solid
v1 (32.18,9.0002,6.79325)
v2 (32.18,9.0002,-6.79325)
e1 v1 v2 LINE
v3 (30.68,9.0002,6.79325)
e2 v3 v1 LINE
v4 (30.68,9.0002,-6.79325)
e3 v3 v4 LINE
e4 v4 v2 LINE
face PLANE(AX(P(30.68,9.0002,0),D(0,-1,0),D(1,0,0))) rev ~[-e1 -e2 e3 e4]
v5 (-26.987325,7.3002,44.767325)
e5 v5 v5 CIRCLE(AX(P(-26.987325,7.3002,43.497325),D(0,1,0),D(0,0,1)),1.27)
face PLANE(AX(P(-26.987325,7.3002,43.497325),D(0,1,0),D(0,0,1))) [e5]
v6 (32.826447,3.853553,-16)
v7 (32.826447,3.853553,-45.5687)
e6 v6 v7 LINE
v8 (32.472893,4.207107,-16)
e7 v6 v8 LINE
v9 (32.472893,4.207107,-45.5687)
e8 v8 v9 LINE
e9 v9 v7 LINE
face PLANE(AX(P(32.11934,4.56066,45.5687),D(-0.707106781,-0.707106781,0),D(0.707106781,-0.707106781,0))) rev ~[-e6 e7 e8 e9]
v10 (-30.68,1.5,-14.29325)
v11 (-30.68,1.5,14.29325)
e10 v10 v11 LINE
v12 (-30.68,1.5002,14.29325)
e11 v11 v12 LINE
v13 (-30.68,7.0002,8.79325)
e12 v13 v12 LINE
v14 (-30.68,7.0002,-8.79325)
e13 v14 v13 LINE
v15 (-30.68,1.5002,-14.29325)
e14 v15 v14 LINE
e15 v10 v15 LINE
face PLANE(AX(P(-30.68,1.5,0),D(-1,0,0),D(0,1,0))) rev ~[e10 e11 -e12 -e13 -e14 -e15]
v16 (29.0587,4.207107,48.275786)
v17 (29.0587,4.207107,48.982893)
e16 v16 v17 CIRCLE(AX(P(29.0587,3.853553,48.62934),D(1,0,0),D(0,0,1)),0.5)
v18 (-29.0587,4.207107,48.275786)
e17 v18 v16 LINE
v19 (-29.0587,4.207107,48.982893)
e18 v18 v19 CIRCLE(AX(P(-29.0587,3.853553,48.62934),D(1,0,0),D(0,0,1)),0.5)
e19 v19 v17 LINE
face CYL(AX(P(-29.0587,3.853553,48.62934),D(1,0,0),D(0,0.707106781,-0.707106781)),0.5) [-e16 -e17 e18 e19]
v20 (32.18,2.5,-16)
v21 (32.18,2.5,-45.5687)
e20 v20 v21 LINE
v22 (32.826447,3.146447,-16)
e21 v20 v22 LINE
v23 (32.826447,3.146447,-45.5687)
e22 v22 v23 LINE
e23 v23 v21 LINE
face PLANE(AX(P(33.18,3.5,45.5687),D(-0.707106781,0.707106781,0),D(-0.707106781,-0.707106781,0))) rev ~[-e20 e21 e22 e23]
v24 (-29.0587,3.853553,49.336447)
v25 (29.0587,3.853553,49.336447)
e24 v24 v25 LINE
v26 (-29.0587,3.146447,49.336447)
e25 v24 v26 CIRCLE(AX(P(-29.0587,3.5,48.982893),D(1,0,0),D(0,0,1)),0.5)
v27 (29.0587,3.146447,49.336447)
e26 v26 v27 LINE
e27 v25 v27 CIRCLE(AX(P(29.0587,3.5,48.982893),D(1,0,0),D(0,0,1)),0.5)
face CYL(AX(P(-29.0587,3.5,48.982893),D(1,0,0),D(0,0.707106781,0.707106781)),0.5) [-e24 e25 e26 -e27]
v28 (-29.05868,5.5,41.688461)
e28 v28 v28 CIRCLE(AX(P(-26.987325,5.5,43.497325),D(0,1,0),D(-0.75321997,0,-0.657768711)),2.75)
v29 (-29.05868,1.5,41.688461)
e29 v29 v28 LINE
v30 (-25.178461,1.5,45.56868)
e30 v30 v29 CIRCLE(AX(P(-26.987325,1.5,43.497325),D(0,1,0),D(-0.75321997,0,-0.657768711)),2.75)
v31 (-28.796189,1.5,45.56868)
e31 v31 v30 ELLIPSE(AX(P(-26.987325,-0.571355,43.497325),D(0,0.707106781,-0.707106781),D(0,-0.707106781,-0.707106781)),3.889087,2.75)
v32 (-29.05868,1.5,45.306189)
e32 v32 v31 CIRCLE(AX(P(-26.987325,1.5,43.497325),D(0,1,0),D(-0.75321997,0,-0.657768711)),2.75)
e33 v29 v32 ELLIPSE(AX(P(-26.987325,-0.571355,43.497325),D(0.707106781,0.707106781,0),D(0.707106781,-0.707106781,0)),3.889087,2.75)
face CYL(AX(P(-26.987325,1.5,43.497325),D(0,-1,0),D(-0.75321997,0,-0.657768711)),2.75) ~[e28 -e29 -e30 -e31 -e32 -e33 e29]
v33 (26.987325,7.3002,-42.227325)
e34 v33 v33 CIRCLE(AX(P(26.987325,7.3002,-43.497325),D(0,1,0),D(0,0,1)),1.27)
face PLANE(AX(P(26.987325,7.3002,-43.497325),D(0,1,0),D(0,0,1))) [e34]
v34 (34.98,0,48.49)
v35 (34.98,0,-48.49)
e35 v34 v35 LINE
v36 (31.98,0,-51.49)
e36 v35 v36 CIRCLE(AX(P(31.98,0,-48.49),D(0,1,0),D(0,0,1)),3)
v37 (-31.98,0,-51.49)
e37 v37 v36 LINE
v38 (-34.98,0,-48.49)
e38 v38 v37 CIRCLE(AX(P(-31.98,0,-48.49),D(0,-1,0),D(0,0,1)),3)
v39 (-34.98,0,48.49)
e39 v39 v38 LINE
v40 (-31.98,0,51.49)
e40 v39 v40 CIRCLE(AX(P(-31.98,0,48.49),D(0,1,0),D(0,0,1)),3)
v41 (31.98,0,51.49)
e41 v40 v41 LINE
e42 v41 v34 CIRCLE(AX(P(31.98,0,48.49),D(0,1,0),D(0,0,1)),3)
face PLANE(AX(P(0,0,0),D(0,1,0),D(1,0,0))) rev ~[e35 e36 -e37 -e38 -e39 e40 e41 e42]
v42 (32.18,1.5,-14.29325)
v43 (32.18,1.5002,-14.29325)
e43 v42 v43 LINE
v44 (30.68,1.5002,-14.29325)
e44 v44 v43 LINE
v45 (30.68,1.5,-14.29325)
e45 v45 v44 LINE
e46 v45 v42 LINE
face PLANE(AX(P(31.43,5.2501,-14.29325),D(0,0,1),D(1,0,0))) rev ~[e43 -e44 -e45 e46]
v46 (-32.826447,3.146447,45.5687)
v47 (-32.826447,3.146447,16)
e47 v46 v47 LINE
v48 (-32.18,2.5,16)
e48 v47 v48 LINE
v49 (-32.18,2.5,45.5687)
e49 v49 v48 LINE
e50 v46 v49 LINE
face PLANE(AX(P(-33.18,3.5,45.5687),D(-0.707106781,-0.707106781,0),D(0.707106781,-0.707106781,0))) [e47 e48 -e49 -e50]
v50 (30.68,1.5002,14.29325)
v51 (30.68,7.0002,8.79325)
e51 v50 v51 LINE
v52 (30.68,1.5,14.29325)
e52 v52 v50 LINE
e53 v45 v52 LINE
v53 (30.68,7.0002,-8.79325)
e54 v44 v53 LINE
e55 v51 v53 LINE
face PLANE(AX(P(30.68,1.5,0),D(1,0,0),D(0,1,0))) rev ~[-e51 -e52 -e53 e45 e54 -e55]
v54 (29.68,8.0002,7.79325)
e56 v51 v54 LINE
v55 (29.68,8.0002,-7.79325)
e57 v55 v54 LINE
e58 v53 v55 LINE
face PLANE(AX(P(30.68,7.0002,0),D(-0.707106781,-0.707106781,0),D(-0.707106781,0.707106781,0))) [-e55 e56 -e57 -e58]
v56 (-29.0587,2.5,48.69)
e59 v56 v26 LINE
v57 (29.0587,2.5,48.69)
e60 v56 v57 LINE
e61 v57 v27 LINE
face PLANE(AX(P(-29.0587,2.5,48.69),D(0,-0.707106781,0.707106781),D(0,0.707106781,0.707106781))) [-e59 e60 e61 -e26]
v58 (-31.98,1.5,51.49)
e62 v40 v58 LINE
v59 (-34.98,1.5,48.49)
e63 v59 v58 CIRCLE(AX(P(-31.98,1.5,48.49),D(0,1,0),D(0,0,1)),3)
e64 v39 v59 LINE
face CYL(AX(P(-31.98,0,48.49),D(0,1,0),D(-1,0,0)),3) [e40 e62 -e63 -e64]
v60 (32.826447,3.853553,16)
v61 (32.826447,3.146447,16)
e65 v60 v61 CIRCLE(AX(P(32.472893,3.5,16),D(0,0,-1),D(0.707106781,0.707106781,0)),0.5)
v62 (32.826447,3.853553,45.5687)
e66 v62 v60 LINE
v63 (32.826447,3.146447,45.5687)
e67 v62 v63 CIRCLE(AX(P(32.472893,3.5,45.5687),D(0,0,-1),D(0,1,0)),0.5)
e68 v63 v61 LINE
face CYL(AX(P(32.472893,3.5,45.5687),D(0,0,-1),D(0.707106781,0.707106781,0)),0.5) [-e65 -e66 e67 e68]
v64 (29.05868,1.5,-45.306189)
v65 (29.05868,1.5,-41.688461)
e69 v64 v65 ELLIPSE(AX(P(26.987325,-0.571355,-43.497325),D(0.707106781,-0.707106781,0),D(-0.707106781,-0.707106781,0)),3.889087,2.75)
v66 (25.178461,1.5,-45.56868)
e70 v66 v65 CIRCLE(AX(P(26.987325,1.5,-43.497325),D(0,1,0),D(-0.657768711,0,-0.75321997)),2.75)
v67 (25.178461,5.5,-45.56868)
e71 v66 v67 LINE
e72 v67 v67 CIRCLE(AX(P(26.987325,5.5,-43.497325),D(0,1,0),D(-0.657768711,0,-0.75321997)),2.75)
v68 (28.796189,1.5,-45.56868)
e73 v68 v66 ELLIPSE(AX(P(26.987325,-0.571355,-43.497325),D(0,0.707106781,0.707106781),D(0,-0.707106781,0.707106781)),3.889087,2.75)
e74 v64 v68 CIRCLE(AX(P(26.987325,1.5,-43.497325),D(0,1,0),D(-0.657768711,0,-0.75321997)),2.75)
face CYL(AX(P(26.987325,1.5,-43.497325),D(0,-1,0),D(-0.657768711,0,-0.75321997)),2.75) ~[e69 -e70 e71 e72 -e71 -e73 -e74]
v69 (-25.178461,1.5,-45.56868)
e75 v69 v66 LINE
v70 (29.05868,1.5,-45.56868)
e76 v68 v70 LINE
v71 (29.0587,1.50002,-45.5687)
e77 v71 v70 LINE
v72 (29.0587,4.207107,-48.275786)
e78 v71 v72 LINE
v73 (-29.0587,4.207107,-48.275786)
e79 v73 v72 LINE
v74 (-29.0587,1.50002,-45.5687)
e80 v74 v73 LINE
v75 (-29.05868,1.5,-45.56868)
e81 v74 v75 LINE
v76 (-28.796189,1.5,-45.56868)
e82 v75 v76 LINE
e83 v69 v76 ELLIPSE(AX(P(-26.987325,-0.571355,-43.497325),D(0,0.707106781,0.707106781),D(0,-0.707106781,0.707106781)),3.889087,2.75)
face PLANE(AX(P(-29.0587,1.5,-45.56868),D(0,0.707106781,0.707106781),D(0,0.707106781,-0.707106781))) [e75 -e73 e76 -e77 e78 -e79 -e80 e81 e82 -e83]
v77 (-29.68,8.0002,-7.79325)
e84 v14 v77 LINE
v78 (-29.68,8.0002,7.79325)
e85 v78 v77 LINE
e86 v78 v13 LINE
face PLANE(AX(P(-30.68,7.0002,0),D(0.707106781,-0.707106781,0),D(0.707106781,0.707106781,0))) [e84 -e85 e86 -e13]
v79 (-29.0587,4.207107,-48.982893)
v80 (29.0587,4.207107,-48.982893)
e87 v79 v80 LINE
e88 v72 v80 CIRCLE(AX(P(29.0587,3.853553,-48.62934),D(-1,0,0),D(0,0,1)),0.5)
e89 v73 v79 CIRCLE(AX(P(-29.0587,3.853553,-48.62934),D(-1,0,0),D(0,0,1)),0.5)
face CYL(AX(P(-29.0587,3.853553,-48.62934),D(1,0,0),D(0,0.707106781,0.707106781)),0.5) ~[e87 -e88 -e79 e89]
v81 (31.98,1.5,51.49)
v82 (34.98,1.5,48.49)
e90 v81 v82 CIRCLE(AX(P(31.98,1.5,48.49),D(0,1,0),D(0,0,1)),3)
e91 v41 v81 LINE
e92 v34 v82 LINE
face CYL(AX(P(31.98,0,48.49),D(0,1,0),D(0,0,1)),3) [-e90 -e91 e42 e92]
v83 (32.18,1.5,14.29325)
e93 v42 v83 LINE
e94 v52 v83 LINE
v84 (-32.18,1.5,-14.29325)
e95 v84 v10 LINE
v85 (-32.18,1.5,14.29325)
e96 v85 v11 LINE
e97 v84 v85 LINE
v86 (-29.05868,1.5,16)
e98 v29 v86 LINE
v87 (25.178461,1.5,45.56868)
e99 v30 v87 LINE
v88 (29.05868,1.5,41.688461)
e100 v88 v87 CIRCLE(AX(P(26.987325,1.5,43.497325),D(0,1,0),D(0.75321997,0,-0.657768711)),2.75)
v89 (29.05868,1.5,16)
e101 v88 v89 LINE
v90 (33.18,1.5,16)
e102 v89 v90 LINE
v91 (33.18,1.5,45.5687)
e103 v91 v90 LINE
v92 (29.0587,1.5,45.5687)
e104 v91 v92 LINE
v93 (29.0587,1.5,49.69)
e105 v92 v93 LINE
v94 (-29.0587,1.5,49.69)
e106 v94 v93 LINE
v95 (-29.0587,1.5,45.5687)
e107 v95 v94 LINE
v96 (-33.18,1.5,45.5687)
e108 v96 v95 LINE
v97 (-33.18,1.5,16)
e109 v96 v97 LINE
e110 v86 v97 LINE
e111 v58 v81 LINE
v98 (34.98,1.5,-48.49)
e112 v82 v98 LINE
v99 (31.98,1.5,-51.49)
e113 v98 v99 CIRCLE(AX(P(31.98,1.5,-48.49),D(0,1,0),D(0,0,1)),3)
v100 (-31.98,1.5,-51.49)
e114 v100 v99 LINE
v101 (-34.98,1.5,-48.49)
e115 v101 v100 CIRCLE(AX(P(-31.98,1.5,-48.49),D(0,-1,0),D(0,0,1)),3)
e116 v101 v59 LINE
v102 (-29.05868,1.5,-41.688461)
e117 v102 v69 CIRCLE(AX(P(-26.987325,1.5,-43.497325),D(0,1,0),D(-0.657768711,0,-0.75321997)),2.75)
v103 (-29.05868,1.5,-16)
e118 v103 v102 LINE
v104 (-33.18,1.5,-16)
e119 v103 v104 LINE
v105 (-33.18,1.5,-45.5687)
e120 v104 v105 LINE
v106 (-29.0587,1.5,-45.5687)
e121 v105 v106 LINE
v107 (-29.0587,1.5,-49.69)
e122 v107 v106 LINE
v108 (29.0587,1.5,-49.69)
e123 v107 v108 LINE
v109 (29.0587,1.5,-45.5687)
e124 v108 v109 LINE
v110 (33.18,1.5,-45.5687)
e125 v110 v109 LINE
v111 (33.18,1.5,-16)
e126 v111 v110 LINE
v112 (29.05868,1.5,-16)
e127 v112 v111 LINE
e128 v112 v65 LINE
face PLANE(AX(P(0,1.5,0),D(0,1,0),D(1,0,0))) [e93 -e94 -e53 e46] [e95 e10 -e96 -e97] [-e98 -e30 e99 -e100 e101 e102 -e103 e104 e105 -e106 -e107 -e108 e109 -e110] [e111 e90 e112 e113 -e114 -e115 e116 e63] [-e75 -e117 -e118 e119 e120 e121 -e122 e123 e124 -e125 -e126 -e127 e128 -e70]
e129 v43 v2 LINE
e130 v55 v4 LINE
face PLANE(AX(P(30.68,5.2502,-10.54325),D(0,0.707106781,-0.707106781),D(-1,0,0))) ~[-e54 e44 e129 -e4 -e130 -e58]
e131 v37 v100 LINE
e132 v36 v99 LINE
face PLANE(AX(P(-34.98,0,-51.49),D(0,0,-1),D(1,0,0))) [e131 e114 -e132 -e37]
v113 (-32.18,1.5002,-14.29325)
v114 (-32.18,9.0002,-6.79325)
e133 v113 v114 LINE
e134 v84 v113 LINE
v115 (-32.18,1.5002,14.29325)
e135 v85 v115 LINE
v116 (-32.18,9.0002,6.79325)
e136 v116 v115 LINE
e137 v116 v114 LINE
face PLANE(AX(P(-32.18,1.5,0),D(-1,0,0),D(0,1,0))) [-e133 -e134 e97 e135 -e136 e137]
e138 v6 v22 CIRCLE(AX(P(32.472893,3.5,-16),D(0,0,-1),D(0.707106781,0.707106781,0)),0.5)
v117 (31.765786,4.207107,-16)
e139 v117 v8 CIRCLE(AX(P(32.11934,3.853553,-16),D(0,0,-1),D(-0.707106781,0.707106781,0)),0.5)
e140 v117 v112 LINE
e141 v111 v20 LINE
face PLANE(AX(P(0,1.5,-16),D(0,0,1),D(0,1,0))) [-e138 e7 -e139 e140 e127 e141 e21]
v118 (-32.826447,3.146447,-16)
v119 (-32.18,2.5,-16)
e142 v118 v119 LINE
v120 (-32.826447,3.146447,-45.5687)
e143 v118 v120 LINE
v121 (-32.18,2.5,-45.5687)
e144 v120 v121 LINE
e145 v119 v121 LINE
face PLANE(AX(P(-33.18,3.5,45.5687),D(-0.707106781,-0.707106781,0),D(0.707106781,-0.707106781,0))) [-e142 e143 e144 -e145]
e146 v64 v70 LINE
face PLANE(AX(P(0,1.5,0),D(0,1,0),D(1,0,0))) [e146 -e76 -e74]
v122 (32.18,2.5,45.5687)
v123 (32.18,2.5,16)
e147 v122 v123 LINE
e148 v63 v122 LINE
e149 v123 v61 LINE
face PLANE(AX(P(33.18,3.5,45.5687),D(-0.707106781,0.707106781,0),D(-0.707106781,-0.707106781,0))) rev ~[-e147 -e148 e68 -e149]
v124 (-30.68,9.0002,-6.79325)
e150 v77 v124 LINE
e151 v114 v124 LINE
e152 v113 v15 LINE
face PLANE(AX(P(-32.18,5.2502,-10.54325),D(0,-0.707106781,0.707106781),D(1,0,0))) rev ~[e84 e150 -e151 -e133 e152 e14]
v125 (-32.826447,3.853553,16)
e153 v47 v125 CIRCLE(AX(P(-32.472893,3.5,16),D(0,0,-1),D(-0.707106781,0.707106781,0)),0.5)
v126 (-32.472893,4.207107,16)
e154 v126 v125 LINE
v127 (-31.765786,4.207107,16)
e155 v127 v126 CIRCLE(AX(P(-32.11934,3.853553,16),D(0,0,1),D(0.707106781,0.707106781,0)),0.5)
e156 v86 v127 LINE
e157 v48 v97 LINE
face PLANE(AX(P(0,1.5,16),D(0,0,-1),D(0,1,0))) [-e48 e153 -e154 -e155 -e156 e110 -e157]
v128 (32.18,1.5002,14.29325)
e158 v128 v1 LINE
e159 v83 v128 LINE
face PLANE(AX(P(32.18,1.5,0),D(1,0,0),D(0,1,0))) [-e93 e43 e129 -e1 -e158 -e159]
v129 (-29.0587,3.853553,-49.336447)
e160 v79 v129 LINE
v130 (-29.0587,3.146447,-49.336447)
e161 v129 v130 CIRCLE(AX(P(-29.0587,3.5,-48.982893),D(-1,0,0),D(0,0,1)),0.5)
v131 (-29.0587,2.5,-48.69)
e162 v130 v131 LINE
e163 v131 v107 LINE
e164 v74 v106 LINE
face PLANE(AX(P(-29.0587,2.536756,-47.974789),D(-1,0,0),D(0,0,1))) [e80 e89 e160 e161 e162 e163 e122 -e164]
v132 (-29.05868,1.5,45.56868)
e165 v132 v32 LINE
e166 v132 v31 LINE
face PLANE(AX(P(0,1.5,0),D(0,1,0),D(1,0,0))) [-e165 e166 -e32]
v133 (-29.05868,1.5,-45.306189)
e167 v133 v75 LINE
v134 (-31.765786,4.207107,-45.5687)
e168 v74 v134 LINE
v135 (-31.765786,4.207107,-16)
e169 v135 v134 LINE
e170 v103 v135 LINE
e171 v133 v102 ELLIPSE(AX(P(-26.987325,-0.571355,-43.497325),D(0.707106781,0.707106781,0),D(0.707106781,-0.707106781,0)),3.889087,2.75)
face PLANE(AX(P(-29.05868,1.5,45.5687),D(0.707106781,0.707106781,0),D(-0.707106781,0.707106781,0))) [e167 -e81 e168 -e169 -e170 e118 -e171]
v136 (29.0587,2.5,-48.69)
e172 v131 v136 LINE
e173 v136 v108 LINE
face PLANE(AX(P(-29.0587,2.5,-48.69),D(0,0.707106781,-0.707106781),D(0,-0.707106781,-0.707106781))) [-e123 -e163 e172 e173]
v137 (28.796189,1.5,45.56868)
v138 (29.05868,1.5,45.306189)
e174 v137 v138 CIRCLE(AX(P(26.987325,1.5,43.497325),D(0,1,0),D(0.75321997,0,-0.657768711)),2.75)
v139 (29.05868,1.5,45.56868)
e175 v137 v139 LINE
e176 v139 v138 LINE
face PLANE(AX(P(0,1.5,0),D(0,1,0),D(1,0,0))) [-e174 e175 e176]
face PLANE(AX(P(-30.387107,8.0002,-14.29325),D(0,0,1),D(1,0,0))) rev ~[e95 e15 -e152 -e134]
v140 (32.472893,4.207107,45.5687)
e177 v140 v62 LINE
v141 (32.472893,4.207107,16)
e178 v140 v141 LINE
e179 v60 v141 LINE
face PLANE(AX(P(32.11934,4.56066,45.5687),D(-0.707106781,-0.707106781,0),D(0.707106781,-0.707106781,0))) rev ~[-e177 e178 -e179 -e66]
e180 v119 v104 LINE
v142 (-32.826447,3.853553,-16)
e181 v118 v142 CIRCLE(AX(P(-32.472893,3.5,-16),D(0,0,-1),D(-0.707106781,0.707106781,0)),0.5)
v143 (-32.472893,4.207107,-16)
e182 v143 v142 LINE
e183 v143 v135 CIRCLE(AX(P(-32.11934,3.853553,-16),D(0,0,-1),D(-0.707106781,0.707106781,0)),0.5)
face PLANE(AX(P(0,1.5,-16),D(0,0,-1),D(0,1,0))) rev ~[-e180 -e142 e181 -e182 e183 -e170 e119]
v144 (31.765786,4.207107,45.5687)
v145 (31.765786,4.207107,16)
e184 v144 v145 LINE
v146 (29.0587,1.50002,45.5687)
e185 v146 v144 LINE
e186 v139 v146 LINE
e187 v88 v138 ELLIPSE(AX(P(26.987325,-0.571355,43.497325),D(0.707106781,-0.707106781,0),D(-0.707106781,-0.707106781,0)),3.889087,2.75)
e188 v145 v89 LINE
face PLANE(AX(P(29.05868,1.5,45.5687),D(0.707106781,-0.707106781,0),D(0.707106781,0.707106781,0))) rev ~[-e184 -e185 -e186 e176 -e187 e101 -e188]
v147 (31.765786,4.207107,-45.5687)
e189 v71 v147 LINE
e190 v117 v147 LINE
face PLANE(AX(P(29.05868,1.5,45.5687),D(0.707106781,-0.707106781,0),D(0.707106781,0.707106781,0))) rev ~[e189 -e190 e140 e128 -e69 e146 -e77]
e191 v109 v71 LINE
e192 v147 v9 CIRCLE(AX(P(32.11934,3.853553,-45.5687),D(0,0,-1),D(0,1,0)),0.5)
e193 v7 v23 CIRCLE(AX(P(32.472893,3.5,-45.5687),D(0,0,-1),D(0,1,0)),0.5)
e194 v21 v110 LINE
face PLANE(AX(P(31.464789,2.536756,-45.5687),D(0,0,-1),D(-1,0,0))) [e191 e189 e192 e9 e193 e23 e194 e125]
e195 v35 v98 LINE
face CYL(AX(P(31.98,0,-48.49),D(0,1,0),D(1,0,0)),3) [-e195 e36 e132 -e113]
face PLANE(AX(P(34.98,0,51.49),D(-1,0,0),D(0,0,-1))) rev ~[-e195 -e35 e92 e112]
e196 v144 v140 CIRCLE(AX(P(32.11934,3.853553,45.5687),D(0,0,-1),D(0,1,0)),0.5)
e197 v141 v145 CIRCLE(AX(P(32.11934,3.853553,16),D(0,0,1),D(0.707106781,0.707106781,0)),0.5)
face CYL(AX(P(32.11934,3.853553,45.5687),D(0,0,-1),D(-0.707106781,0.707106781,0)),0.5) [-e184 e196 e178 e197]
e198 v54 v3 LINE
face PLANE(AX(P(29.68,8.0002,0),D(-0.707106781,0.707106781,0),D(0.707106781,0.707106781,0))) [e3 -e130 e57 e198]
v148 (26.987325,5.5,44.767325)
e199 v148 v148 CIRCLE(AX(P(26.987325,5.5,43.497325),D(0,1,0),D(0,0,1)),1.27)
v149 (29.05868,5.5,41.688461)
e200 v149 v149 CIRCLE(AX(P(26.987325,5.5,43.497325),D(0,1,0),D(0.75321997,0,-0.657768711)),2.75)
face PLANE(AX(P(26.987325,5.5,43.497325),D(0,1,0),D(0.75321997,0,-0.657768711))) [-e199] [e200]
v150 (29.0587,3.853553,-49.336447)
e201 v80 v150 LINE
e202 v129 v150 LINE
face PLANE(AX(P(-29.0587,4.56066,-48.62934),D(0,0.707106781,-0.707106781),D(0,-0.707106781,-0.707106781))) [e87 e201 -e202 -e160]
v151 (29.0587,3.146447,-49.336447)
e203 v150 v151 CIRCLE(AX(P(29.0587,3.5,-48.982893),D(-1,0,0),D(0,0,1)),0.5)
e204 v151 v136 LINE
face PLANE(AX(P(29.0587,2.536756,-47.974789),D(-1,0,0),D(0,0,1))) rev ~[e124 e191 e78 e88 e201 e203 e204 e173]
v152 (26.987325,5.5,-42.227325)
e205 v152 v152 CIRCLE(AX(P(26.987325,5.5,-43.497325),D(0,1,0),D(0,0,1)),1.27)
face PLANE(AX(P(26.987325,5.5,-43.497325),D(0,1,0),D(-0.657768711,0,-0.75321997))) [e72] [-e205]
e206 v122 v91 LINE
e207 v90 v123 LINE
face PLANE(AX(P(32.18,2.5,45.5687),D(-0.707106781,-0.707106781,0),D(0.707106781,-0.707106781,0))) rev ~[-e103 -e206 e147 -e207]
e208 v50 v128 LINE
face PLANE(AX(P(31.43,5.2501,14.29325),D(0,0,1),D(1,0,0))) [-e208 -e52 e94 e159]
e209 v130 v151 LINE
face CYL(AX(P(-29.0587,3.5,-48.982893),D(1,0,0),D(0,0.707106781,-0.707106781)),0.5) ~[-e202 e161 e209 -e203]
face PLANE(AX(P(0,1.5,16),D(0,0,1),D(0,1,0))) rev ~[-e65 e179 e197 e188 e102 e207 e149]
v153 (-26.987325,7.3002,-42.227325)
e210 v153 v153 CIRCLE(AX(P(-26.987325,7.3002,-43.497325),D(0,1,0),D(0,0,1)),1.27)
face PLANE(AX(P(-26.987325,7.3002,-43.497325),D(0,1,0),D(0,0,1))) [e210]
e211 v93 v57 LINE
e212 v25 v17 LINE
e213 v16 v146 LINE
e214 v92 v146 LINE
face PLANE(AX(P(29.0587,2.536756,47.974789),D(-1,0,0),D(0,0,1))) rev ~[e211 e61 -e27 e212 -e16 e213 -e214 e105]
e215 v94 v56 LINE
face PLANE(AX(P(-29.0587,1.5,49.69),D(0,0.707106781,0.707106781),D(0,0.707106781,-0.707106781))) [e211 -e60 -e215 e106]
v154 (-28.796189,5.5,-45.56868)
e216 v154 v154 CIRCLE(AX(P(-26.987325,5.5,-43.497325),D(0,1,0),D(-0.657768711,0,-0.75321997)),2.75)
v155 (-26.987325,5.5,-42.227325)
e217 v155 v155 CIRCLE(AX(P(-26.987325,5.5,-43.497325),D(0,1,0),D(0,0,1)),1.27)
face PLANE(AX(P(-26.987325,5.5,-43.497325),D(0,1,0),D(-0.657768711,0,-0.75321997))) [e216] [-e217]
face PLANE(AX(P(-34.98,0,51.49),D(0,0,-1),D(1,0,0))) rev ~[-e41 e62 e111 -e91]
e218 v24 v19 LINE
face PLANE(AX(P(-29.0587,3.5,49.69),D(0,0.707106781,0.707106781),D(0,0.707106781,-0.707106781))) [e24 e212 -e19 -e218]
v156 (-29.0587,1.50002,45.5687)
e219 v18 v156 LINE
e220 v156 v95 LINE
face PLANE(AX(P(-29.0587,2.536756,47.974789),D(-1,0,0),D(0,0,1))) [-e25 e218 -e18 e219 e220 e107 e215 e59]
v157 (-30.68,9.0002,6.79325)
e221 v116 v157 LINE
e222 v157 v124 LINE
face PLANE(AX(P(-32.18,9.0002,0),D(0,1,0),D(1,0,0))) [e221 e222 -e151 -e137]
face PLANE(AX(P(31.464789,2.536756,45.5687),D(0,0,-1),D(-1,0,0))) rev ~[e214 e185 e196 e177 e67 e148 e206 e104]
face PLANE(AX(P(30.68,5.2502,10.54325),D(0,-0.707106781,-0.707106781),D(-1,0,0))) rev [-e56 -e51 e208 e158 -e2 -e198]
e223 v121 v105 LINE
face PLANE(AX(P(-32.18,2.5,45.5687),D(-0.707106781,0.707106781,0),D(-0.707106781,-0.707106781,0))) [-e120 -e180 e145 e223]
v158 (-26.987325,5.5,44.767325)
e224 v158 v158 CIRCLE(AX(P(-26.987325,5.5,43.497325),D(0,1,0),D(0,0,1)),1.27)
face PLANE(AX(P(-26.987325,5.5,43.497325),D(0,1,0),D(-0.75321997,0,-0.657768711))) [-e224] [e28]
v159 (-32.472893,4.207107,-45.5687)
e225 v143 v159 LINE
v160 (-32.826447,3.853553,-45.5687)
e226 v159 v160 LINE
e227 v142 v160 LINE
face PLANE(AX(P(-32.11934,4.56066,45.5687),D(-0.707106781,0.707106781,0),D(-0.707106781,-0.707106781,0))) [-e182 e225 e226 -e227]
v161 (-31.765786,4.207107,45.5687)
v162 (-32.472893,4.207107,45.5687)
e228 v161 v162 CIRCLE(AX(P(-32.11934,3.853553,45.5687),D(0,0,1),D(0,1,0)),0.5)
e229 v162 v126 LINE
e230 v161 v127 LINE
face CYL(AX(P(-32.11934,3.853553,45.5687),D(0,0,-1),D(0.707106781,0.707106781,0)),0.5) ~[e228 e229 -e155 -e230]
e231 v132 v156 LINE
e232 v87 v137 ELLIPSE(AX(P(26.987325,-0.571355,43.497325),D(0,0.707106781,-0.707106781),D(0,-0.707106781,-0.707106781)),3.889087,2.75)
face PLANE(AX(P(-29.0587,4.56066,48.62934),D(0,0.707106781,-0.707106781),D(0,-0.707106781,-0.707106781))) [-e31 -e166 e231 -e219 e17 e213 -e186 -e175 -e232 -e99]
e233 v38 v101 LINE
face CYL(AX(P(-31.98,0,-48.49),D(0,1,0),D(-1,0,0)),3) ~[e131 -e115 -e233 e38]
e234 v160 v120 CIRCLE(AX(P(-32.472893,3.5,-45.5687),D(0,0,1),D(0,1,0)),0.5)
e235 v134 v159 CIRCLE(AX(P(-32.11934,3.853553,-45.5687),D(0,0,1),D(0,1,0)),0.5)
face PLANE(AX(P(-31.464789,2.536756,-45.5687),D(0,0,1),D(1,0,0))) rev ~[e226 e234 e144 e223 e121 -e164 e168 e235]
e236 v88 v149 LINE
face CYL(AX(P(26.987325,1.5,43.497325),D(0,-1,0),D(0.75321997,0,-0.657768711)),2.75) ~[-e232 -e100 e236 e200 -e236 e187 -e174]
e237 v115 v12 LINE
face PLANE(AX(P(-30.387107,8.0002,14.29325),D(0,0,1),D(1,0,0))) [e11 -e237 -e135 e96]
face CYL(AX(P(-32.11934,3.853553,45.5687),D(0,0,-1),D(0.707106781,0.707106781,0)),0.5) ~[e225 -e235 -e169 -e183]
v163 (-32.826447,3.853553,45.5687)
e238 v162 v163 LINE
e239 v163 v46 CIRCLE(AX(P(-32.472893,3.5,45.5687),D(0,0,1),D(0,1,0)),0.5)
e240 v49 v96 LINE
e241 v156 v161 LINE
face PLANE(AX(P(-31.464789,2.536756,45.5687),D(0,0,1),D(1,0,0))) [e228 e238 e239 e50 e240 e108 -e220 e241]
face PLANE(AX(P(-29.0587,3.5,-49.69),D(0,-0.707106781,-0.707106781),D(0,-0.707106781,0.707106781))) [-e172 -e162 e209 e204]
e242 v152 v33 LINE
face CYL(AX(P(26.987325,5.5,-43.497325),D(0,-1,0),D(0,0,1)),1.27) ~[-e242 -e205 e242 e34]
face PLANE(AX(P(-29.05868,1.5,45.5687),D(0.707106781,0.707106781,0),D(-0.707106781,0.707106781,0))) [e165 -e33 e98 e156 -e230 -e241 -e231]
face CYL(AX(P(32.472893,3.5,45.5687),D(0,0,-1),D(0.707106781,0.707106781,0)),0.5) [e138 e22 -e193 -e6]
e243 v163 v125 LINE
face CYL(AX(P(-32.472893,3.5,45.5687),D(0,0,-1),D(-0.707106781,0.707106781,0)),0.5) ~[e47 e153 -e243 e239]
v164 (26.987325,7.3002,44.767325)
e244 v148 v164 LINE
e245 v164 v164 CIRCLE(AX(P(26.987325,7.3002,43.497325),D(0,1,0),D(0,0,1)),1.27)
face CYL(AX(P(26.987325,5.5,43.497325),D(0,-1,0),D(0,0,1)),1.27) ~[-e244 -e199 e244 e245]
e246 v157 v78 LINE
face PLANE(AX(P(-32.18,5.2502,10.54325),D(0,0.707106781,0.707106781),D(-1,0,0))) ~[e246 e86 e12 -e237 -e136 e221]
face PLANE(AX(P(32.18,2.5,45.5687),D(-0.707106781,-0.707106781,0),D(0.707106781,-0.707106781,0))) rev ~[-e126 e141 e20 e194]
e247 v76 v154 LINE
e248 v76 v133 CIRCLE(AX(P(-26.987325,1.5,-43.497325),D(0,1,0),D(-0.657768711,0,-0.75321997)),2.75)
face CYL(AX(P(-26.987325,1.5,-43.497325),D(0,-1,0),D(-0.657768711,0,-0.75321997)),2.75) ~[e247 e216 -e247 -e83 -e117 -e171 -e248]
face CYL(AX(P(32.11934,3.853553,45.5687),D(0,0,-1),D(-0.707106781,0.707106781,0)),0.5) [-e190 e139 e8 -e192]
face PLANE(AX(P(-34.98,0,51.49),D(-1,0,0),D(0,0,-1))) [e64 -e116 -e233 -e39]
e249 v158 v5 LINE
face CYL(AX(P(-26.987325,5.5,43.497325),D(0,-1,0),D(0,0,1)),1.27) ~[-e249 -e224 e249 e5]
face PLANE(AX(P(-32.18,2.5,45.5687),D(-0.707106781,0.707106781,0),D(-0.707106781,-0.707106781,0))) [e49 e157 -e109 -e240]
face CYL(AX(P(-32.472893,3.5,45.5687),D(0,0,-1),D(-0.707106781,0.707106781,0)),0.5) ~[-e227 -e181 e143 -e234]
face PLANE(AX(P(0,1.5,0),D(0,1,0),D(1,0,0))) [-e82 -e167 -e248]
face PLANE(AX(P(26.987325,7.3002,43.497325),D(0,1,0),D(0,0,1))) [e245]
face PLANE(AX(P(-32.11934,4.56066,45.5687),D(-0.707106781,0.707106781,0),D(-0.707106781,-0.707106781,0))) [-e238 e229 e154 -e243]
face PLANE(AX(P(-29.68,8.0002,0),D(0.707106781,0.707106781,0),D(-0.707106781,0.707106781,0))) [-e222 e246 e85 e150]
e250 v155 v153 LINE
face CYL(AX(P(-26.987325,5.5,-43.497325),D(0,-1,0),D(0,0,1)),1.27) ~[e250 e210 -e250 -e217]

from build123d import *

# Parameters (mm, degrees)
EDIT_GLOBAL_VARIABLE_WITH_PCB_DIMENSIONS_W = 69.96
EDIT_GLOBAL_VARIABLE_WITH_PCB_DIMENSIONS_H = 102.98
BOSS_EXTRUDE1_DEPTH                        = 1.5
FILLET1_R                                  = 3
BOSS_EXTRUDE2_DEPTH                        = 91.1374
BOSS_EXTRUDE3_DEPTH                        = 91.1374
BOSS_EXTRUDE4_DEPTH                        = 58.1174
BOSS_EXTRUDE5_DEPTH                        = 58.1174
FILLET2_R                                  = 0.5
SKETCH7_W                                  = 32
SKETCH7_H                                  = 2.853553391
CUT_EXTRUDE1_DEPTH                         = 35.98
CUT_EXTRUDE1_DEPTH_BACK                    = 35.98
SKETCH8_R                                  = 2.75
BOSS_EXTRUDE6_DEPTH                        = 4
SKETCH11_W                                 = 1.5
SKETCH11_H                                 = 7.5002
BOSS_EXTRUDE8_DEPTH                        = 14.29325
BOSS_EXTRUDE9_DEPTH                        = 14.29325
CHAMFER1_SIZE                              = 7.5
SKETCH10_R                                 = 1.27
BOSS_EXTRUDE10_DEPTH                       = 1.8002


with BuildPart() as part:
    # EDIT GLOBAL VARIABLE WITH PCB DIMENSIONS → Boss-Extrude1 (new body)
    with BuildSketch(Plane(origin=(0, 0, 0), x_dir=(1, 0, 0), z_dir=(0, 1, 0))):
        Rectangle(EDIT_GLOBAL_VARIABLE_WITH_PCB_DIMENSIONS_W, EDIT_GLOBAL_VARIABLE_WITH_PCB_DIMENSIONS_H)
    extrude(amount=BOSS_EXTRUDE1_DEPTH)

    # Fillet1
    fillet1_edges = [part.edges().sort_by_distance(p)[0] for p in [
        (34.98, 0.75, 51.49),
        (-34.98, 0.75, 51.49),
        (-34.98, 0.75, -51.49),
        (34.98, 0.75, -51.49),
    ]]
    fillet(fillet1_edges, radius=FILLET1_R)

    # Sketch2 → Boss-Extrude2 (add)
    with BuildSketch(Plane.XY.offset(45.5687)):
        Polygon((33.18, 1.5), (29.058679656, 1.5), (32.119339828, 4.560660172), (33.18, 3.5), (32.18, 2.5), align=None)
    extrude(amount=-BOSS_EXTRUDE2_DEPTH)

    # Sketch3 → Boss-Extrude3 (add)
    with BuildSketch(Plane.XY.offset(45.5687)):
        Polygon((-33.18, 1.5), (-29.058679656, 1.5), (-32.119339828, 4.560660172), (-33.18, 3.5), (-32.18, 2.5), align=None)
    extrude(amount=-BOSS_EXTRUDE3_DEPTH)

    # Sketch4 → Boss-Extrude4 (add)
    with BuildSketch(Plane.ZY.offset(29.0587)):
        Polygon((-49.69, 1.5), (-45.568679656, 1.5), (-48.629339828, 4.560660172), (-49.69, 3.5), (-48.69, 2.5), align=None)
    extrude(amount=-BOSS_EXTRUDE4_DEPTH)

    # Sketch5 → Boss-Extrude5 (add)
    with BuildSketch(Plane.ZY.offset(29.0587)):
        Polygon((45.568679656, 1.5), (49.69, 1.5), (48.69, 2.5), (49.69, 3.5), (48.629339828, 4.560660172), align=None)
    extrude(amount=-BOSS_EXTRUDE5_DEPTH)

    # Fillet2
    fillet2_edges = [part.edges().sort_by_distance(p)[0] for p in [
        (33.18, 3.5, 0),
        (32.119339828, 4.560660172, 0),
        (-32.119339828, 4.560660172, 0),
        (-33.18, 3.5, 0),
        (0, 4.560660172, -48.629339828),
        (0, 3.5, -49.69),
        (0, 3.5, 49.69),
        (0, 4.560660172, 48.629339828),
    ]]
    fillet(fillet2_edges, radius=FILLET2_R)

    # Sketch7 → Cut-Extrude1 (cut, two sides)
    with BuildSketch(Plane(origin=(0, 0, 0), x_dir=(0, 0, -1), z_dir=(1, 0, 0))) as cut_extrude1_sk:
        with Locations((0, 2.926776696)):
            Rectangle(SKETCH7_W, SKETCH7_H)
    extrude(amount=CUT_EXTRUDE1_DEPTH, mode=Mode.SUBTRACT)
    extrude(cut_extrude1_sk.sketch, amount=-CUT_EXTRUDE1_DEPTH_BACK, mode=Mode.SUBTRACT)

    # Sketch8 → Boss-Extrude6 (add)
    with BuildSketch(Plane(origin=(0, 1.5, 0), x_dir=(1, 0, 0), z_dir=(0, 1, 0))):
        with Locations(Location((-26.98732474, 43.49732474, 0), (0, 0, 131.129923219))):  # turned: the seam where the file's is
            Circle(SKETCH8_R)
        with Locations(Location((26.98732474, 43.49732474, 0), (0, 0, 131.129923219))):  # turned: the seam where the file's is
            Circle(SKETCH8_R)
        with Locations(Location((-26.98732474, -43.49732474, 0), (0, 0, 138.870076781))):  # turned: the seam where the file's is
            Circle(SKETCH8_R)
        with Locations(Location((26.98732474, -43.49732474, 0), (0, 0, 41.129923219))):  # turned: the seam where the file's is
            Circle(SKETCH8_R)
    extrude(amount=BOSS_EXTRUDE6_DEPTH)

    # Sketch11 → Boss-Extrude8 (add, symmetric)
    with BuildSketch(Plane.XY):
        with Locations((-31.43, 5.2501)):
            Rectangle(SKETCH11_W, SKETCH11_H)
        with Locations((31.43, 5.2501)):
            Rectangle(SKETCH11_W, SKETCH11_H)
    extrude(amount=BOSS_EXTRUDE8_DEPTH, both=True)

    # Sketch12 → Boss-Extrude9 (add, symmetric)
    with BuildSketch(Plane.XY):
        Polygon((30.68, 9.0002), (30.68, 7.0002), (29.68, 8.0002), align=None)
        Polygon((-30.68, 9.0002), (-30.68, 7.0002), (-29.68, 8.0002), align=None)
    extrude(amount=BOSS_EXTRUDE9_DEPTH, both=True)

    # Chamfer1
    chamfer1_edges = [part.edges().sort_by_distance(p)[0] for p in [
        (31.43, 9.0002, -14.29325),
        (31.43, 9.0002, 14.29325),
        (-31.43, 9.0002, -14.29325),
        (-31.43, 9.0002, 14.29325),
    ]]
    chamfer(chamfer1_edges, length=CHAMFER1_SIZE)

    # Sketch10 → Boss-Extrude10 (add)
    with BuildSketch(Plane(origin=(0, 5.5, 0), x_dir=(1, 0, 0), z_dir=(0, 1, 0))):
        with Locations(Location((-26.98732474, 43.49732474, 0), (0, 0, 270))):  # turned: the seam where the file's is
            Circle(SKETCH10_R)
        with Locations(Location((26.98732474, 43.49732474, 0), (0, 0, 270))):  # turned: the seam where the file's is
            Circle(SKETCH10_R)
        with Locations(Location((26.98732474, -43.49732474, 0), (0, 0, 270))):  # turned: the seam where the file's is
            Circle(SKETCH10_R)
        with Locations(Location((-26.98732474, -43.49732474, 0), (0, 0, 270))):  # turned: the seam where the file's is
            Circle(SKETCH10_R)
    extrude(amount=BOSS_EXTRUDE10_DEPTH)


solid = part.part
